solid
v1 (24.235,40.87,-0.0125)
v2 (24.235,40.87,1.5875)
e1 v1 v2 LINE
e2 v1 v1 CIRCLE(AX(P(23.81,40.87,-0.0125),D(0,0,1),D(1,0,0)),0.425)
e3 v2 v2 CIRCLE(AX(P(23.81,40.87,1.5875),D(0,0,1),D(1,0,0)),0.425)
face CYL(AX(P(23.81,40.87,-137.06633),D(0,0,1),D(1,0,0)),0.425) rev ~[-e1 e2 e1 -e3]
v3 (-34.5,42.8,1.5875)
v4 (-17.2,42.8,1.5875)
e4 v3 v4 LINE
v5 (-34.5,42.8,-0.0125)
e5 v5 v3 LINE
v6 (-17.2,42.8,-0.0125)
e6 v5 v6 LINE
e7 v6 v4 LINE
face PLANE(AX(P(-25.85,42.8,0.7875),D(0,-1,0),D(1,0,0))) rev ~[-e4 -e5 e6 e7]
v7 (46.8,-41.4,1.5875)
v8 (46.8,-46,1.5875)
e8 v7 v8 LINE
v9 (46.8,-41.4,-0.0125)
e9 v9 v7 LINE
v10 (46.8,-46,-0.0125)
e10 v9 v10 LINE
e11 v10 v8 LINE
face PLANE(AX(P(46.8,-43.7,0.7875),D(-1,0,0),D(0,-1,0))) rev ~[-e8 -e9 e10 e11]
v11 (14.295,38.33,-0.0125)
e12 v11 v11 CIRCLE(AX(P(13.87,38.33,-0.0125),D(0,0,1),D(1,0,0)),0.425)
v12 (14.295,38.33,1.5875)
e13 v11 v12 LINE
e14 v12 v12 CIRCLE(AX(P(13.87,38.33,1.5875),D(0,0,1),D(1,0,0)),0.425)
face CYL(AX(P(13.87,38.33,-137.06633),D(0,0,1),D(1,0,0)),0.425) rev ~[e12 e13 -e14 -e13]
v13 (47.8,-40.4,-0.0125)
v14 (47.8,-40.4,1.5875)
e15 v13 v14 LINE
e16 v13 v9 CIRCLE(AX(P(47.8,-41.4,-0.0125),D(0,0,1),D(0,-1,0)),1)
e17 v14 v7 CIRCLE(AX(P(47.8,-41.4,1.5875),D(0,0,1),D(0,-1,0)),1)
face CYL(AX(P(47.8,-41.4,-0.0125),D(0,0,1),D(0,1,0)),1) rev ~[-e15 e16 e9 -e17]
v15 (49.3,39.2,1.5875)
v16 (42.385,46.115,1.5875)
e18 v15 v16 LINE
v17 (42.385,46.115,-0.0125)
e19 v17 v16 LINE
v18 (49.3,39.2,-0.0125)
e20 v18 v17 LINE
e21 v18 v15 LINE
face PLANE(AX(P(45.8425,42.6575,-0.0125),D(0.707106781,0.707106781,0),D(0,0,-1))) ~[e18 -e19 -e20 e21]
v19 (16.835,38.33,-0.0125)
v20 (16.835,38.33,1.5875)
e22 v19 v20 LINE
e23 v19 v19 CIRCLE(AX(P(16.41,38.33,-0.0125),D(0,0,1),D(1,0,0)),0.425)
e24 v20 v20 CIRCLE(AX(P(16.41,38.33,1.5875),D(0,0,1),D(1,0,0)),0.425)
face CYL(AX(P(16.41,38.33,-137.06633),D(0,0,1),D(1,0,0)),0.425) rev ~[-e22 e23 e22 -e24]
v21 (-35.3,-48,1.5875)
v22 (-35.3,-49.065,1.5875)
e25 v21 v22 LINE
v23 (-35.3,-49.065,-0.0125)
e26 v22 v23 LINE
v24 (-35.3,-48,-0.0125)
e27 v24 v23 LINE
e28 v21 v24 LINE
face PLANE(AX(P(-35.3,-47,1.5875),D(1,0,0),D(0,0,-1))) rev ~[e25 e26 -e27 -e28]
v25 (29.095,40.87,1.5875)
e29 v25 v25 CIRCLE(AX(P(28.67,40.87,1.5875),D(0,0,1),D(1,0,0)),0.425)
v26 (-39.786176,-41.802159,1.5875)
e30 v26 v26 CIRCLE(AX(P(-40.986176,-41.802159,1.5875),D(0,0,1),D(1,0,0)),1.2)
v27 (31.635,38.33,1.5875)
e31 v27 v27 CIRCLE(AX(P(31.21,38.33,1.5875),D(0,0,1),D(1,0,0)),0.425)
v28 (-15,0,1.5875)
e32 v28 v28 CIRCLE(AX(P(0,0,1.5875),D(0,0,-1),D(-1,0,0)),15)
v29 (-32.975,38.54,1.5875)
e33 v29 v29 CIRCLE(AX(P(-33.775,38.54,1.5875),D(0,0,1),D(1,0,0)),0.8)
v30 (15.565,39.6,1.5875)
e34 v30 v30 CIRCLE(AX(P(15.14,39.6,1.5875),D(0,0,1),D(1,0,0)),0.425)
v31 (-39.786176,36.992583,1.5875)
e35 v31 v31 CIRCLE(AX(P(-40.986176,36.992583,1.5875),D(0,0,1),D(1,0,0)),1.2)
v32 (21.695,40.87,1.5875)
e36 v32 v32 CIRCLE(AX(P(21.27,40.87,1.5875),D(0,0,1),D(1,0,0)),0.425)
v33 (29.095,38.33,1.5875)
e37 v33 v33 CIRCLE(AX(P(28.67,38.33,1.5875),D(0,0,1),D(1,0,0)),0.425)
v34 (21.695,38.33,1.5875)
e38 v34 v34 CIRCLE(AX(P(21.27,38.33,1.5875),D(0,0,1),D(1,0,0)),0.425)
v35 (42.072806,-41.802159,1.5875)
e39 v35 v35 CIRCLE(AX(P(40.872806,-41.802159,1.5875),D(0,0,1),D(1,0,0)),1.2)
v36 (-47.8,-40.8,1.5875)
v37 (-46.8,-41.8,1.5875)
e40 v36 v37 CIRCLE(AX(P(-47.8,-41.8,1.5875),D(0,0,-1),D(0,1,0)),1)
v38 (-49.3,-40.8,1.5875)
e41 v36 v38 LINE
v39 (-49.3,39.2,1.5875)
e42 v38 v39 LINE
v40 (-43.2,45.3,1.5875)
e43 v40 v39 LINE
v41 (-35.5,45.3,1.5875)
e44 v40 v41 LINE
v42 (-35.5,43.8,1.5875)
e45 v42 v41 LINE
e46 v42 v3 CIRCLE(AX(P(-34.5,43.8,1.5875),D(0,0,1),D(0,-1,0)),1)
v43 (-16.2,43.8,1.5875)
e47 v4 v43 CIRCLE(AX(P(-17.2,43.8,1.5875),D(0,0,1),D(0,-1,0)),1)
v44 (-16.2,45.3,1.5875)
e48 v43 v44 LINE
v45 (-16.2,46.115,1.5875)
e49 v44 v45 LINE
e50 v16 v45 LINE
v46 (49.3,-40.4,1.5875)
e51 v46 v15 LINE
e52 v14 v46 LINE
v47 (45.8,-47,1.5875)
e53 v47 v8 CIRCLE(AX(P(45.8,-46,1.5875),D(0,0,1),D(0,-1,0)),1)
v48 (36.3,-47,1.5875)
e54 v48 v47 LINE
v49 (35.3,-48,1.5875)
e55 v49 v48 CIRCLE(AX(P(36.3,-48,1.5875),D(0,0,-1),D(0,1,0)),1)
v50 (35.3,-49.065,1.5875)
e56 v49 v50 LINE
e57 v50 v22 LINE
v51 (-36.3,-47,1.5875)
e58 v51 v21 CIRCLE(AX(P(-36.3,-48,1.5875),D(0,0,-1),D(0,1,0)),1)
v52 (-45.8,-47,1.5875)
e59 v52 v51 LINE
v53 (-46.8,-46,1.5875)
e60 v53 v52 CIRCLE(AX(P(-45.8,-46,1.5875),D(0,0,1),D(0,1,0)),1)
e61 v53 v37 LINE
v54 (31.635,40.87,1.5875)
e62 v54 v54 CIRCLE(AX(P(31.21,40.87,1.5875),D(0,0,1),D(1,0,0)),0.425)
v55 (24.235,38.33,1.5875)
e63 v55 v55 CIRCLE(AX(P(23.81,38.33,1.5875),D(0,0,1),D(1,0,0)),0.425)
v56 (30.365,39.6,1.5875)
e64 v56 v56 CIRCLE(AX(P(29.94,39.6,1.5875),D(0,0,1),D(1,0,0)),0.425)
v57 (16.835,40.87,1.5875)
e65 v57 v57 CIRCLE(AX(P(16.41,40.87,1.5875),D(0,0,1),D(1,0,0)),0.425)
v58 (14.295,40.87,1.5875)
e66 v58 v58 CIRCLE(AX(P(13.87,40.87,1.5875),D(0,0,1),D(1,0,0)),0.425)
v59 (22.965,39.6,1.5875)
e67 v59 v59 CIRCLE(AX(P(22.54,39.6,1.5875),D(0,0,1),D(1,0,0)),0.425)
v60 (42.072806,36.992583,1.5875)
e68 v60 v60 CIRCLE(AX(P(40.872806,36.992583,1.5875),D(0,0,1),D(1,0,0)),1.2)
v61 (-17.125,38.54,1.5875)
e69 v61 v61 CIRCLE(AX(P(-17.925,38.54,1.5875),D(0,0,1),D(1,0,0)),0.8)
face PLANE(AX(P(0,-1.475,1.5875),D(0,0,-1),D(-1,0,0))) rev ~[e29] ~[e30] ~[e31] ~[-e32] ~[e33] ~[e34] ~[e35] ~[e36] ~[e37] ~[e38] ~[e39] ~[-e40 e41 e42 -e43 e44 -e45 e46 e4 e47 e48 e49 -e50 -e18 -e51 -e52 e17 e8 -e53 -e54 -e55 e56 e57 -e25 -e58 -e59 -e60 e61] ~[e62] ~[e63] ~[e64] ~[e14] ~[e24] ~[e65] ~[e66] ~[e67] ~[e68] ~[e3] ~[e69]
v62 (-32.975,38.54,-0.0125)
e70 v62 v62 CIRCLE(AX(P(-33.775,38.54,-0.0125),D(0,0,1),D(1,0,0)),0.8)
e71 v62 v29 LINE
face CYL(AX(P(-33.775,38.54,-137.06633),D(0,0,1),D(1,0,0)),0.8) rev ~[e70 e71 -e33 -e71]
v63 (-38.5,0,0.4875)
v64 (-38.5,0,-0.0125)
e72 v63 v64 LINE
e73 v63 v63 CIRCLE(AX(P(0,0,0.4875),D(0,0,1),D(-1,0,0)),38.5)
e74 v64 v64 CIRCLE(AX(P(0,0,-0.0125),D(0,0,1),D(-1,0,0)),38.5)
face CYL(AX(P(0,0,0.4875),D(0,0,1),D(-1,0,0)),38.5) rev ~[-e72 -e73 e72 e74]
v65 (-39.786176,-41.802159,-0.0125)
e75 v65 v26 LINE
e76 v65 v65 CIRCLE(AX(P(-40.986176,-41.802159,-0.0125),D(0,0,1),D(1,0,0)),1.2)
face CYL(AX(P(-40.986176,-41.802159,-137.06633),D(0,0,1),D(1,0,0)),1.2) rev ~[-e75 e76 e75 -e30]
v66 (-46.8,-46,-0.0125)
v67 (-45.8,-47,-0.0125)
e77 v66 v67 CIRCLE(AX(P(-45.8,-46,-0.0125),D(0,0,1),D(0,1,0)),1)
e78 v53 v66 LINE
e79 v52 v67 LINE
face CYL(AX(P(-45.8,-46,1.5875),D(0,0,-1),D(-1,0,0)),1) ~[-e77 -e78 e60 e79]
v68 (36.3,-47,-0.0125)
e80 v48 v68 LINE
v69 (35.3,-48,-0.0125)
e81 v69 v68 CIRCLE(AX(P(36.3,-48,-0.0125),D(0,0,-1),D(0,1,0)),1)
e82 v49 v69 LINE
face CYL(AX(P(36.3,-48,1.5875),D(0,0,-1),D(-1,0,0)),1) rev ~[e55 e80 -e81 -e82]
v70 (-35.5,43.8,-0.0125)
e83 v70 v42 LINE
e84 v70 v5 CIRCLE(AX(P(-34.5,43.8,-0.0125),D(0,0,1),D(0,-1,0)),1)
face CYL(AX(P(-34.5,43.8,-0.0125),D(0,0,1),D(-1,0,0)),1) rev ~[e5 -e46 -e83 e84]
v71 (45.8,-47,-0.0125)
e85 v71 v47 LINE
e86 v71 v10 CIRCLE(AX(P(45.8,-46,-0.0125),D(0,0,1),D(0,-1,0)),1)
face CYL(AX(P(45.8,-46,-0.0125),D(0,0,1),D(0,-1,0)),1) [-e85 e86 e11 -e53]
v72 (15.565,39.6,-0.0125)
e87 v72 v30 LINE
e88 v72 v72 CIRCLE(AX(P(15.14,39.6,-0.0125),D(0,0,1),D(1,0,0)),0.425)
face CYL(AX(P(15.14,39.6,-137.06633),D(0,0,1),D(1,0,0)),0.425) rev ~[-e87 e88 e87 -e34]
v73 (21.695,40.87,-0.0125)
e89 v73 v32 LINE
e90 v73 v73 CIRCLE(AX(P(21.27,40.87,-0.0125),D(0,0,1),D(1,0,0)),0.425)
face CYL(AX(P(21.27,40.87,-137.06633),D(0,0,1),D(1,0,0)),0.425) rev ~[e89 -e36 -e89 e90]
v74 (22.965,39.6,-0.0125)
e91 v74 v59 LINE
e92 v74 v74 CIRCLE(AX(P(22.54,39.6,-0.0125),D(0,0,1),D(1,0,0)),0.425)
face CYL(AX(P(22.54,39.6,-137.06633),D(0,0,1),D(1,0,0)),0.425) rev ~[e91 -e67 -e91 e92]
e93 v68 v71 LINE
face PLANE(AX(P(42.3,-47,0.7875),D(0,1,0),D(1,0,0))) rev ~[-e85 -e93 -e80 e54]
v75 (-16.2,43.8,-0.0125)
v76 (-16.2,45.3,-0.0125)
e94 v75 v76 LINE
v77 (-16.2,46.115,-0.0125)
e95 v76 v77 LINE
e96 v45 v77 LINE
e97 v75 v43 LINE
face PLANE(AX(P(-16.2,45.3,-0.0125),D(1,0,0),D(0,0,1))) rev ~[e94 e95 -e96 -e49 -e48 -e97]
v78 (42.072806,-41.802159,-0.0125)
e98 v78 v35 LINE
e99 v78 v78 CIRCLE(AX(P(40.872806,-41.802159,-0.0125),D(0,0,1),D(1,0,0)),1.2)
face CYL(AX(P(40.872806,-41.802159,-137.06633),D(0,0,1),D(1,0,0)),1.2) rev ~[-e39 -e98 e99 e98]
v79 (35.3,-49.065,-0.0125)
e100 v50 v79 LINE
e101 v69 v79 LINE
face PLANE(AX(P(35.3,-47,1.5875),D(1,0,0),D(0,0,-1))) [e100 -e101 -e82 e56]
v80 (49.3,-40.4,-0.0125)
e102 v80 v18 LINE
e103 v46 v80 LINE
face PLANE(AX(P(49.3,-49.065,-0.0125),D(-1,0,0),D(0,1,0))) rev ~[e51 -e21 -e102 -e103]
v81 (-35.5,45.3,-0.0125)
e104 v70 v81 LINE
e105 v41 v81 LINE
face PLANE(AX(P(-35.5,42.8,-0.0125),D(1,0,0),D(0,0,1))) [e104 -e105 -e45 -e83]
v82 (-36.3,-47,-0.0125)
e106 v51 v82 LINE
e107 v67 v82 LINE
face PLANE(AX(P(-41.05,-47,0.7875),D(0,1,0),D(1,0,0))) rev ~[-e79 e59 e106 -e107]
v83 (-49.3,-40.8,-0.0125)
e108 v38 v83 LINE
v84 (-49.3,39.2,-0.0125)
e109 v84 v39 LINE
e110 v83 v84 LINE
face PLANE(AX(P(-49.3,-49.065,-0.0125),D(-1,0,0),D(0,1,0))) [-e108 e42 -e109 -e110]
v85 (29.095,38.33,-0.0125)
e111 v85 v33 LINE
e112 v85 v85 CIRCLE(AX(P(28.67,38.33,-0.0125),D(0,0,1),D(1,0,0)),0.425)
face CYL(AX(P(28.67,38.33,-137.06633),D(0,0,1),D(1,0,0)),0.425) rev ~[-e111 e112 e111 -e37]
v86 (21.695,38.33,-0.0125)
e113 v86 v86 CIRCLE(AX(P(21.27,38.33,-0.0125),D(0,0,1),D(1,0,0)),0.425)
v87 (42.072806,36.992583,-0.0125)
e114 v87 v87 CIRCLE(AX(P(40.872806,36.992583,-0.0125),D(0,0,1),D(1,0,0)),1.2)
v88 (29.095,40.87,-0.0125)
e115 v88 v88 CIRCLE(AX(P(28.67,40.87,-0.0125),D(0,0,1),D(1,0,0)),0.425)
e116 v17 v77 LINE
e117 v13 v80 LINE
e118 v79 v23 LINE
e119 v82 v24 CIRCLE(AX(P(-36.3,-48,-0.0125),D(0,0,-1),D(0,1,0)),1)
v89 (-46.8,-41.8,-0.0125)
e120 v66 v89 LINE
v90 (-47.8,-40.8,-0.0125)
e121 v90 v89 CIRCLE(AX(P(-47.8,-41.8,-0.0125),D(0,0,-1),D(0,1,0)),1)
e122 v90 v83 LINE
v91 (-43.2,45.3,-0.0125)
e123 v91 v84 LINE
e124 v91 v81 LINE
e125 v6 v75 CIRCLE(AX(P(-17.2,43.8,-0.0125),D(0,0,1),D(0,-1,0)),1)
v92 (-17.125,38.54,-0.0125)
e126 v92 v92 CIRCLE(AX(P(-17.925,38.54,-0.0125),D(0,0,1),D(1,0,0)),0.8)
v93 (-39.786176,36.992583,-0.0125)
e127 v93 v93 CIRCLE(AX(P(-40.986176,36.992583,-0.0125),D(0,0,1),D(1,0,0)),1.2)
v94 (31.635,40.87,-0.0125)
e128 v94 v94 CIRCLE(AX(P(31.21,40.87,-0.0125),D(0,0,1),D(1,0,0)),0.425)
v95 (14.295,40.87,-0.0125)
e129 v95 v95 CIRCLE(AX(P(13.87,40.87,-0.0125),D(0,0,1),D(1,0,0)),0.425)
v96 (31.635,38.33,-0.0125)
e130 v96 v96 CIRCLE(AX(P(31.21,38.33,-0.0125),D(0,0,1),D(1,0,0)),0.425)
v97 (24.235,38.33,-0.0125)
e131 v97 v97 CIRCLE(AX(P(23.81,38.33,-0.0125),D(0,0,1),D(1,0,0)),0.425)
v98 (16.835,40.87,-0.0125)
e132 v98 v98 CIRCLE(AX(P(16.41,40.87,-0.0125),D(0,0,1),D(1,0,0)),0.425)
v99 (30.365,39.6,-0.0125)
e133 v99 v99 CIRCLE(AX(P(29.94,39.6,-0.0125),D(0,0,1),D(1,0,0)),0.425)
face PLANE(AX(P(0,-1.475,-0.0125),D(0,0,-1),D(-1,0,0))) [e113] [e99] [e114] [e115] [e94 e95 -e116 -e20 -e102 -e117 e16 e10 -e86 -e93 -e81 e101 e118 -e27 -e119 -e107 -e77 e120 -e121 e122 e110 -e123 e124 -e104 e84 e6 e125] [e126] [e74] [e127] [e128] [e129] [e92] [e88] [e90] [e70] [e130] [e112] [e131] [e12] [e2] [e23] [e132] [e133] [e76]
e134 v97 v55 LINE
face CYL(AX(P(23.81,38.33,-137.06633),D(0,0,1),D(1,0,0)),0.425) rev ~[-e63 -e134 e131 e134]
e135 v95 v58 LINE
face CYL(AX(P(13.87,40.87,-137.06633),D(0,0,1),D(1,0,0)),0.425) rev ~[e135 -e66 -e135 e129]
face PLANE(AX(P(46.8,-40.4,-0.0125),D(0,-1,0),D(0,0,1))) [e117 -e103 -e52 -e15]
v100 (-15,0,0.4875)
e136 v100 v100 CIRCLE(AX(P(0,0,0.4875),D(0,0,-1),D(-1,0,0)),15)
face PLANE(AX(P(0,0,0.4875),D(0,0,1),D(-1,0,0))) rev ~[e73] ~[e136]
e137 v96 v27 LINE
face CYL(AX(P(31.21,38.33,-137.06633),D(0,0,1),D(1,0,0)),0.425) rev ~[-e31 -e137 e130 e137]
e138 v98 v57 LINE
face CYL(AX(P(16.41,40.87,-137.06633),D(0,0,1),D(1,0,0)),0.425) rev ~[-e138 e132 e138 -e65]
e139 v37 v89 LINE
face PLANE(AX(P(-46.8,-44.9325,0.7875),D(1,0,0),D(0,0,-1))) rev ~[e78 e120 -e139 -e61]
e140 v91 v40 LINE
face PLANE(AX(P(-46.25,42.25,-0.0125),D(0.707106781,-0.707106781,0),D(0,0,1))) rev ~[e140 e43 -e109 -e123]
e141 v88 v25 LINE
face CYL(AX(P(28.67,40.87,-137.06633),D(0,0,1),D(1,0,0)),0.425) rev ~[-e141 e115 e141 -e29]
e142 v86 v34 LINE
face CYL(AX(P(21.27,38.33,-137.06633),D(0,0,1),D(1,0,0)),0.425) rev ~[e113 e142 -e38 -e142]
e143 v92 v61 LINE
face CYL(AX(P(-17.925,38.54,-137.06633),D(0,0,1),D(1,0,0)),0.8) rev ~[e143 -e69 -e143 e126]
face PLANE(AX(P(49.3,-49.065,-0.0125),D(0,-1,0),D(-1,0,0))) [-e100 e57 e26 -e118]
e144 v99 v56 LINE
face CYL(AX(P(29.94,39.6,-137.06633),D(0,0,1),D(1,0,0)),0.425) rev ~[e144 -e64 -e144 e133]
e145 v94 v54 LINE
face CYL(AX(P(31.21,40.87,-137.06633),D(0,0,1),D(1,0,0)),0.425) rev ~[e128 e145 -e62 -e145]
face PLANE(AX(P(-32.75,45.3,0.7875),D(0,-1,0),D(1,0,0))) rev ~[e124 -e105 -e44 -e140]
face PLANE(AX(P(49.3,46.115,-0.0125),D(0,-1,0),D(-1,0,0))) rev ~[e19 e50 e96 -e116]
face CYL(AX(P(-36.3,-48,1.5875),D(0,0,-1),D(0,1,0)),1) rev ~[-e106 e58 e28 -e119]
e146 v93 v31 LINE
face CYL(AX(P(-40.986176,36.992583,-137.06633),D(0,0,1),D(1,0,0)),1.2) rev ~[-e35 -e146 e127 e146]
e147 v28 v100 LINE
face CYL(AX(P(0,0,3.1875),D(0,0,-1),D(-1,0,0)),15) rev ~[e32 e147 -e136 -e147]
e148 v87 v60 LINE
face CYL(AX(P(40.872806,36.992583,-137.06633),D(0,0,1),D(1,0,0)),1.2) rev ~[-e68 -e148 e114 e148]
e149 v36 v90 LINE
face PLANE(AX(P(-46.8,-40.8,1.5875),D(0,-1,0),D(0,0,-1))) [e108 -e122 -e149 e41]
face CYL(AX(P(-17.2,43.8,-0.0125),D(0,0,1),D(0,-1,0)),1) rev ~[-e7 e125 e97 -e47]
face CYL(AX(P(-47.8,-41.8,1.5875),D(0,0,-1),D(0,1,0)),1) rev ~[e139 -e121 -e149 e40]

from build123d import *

# Parameters (mm, degrees)
SKETCH1_W             = 98.6
SKETCH1_H             = 95.18
BOSS_EXTRUDE1_DEPTH   = 1.6
HOLE1_D               = 0.85
HOLE2_D               = 0.85
HOLE3_D               = 0.85
HOLE4_D               = 0.85
HOLE5_D               = 0.85
HOLE6_D               = 0.85
HOLE7_D               = 0.85
HOLE8_D               = 0.85
HOLE9_D               = 0.85
HOLE10_D              = 0.85
HOLE11_D              = 0.85
HOLE12_D              = 0.85
HOLE13_D              = 0.85
HOLE14_D              = 0.85
HOLE15_D              = 0.85
HOLE16_D              = 1.6
HOLE17_D              = 1.6
F_2_CLEARANCE_HOLE1_D = 2.4
F_2_CLEARANCE_HOLE2_D = 2.4
F_2_CLEARANCE_HOLE3_D = 2.4
F_2_CLEARANCE_HOLE4_D = 2.4
CUT_EXTRUDE1_REACH    = 71.563
SKETCH44_R            = 38.5
HOLE18_D              = 30
HOLE18_DEPTH          = 1.6
CUT_EXTRUDE2_REACH    = 107.373
SKETCH47_W            = 14
SKETCH47_H            = 1.6
CUT_EXTRUDE3_REACH    = 109.912
SKETCH48_W            = 6.6
SKETCH48_H            = 1.6
CUT_EXTRUDE4_REACH    = 109.912
SKETCH49_W            = 1.6
SKETCH49_H            = 8.265
CUT_EXTRUDE5_REACH    = 107.373
SKETCH50_W            = 11.5
SKETCH50_H            = 1.6
CUT_EXTRUDE6_REACH    = 108.479
SKETCH51_W            = 33.099999986
SKETCH51_H            = 1.6
CUT_EXTRUDE7_REACH    = 106.27
SKETCH52_W            = 19.300000003
SKETCH52_H            = 1.6
CHAMFER1_SIZE         = 6.915
CHAMFER2_SIZE         = 6.1
FILLET1_R             = 1


with BuildPart() as part:
    # Sketch1 → Boss-Extrude1 (new body)
    with BuildSketch(Plane(origin=(0, 0, -0.0125), x_dir=(-1, 0, 0), z_dir=(0, 0, -1))):
        with Locations((0, -1.475)):
            Rectangle(SKETCH1_W, SKETCH1_H)
    extrude(amount=-BOSS_EXTRUDE1_DEPTH)

    # Hole1 (through all)
    with Locations(Plane(origin=(0, 0, -0.0125), x_dir=(-1, 0, 0), z_dir=(0, 0, -1))):
        with Locations((-31.21, 40.87)):
            Hole(HOLE1_D / 2)

    # Hole2 (through all)
    with Locations(Plane(origin=(0, 0, -0.0125), x_dir=(-1, 0, 0), z_dir=(0, 0, -1))):
        with Locations((-28.67, 40.87)):
            Hole(HOLE2_D / 2)

    # Hole3 (through all)
    with Locations(Plane(origin=(0, 0, -0.0125), x_dir=(-1, 0, 0), z_dir=(0, 0, -1))):
        with Locations((-29.94, 39.6)):
            Hole(HOLE3_D / 2)

    # Hole4 (through all)
    with Locations(Plane(origin=(0, 0, -0.0125), x_dir=(-1, 0, 0), z_dir=(0, 0, -1))):
        with Locations((-31.21, 38.33)):
            Hole(HOLE4_D / 2)

    # Hole5 (through all)
    with Locations(Plane(origin=(0, 0, -0.0125), x_dir=(-1, 0, 0), z_dir=(0, 0, -1))):
        with Locations((-28.67, 38.33)):
            Hole(HOLE5_D / 2)

    # Hole6 (through all)
    with Locations(Plane(origin=(0, 0, -0.0125), x_dir=(-1, 0, 0), z_dir=(0, 0, -1))):
        with Locations((-23.81, 40.87)):
            Hole(HOLE6_D / 2)

    # Hole7 (through all)
    with Locations(Plane(origin=(0, 0, -0.0125), x_dir=(-1, 0, 0), z_dir=(0, 0, -1))):
        with Locations((-21.27, 40.87)):
            Hole(HOLE7_D / 2)

    # Hole8 (through all)
    with Locations(Plane(origin=(0, 0, -0.0125), x_dir=(-1, 0, 0), z_dir=(0, 0, -1))):
        with Locations((-22.54, 39.6)):
            Hole(HOLE8_D / 2)

    # Hole9 (through all)
    with Locations(Plane(origin=(0, 0, -0.0125), x_dir=(-1, 0, 0), z_dir=(0, 0, -1))):
        with Locations((-23.81, 38.33)):
            Hole(HOLE9_D / 2)

    # Hole10 (through all)
    with Locations(Plane(origin=(0, 0, -0.0125), x_dir=(-1, 0, 0), z_dir=(0, 0, -1))):
        with Locations((-21.27, 38.33)):
            Hole(HOLE10_D / 2)

    # Hole11 (through all)
    with Locations(Plane(origin=(0, 0, -0.0125), x_dir=(-1, 0, 0), z_dir=(0, 0, -1))):
        with Locations((-16.41, 40.87)):
            Hole(HOLE11_D / 2)

    # Hole12 (through all)
    with Locations(Plane(origin=(0, 0, -0.0125), x_dir=(-1, 0, 0), z_dir=(0, 0, -1))):
        with Locations((-13.87, 40.87)):
            Hole(HOLE12_D / 2)

    # Hole13 (through all)
    with Locations(Plane(origin=(0, 0, -0.0125), x_dir=(-1, 0, 0), z_dir=(0, 0, -1))):
        with Locations((-15.14, 39.6)):
            Hole(HOLE13_D / 2)

    # Hole14 (through all)
    with Locations(Plane(origin=(0, 0, -0.0125), x_dir=(-1, 0, 0), z_dir=(0, 0, -1))):
        with Locations((-16.41, 38.33)):
            Hole(HOLE14_D / 2)

    # Hole15 (through all)
    with Locations(Plane(origin=(0, 0, -0.0125), x_dir=(-1, 0, 0), z_dir=(0, 0, -1))):
        with Locations((-13.87, 38.33)):
            Hole(HOLE15_D / 2)

    # Hole16 (through all)
    with Locations(Plane(origin=(0, 0, -0.0125), x_dir=(-1, 0, 0), z_dir=(0, 0, -1))):
        with Locations((17.925000017, 38.540000432)):
            Hole(HOLE16_D / 2)

    # Hole17 (through all)
    with Locations(Plane(origin=(0, 0, -0.0125), x_dir=(-1, 0, 0), z_dir=(0, 0, -1))):
        with Locations((33.775000017, 38.540000432)):
            Hole(HOLE17_D / 2)

    # #2 Clearance Hole1 (through all)
    with Locations(Plane(origin=(0, 0, -0.0125), x_dir=(-1, 0, 0), z_dir=(0, 0, -1))):
        with Locations((40.986176345, 36.992583135)):
            Hole(F_2_CLEARANCE_HOLE1_D / 2)

    # #2 Clearance Hole2 (through all)
    with Locations(Plane(origin=(0, 0, -0.0125), x_dir=(-1, 0, 0), z_dir=(0, 0, -1))):
        with Locations((-40.872805953, 36.992583135)):
            Hole(F_2_CLEARANCE_HOLE2_D / 2)

    # #2 Clearance Hole3 (through all)
    with Locations(Plane(origin=(0, 0, -0.0125), x_dir=(-1, 0, 0), z_dir=(0, 0, -1))):
        with Locations((-40.872805953, -41.802159184)):
            Hole(F_2_CLEARANCE_HOLE3_D / 2)

    # #2 Clearance Hole4 (through all)
    with Locations(Plane(origin=(0, 0, -0.0125), x_dir=(-1, 0, 0), z_dir=(0, 0, -1))):
        with Locations((40.986176345, -41.802159184)):
            Hole(F_2_CLEARANCE_HOLE4_D / 2)

    # Sketch44 → Cut-Extrude1 (cut, up to next)
    with BuildSketch(Plane.XY.offset(0.4875), mode=Mode.PRIVATE) as cut_extrude1_sk1:
        with Locations(Location((0, 0, 0), (0, 0, 180))):
            Circle(SKETCH44_R)
    cut_extrude1_tool1 = extrude(cut_extrude1_sk1.sketch, amount=-CUT_EXTRUDE1_REACH, mode=Mode.PRIVATE) & part.part
    add(cut_extrude1_tool1.solids().sort_by_distance((0, 0, 0.4875))[0], mode=Mode.SUBTRACT)

    # Hole18
    with Locations(Plane.XY.offset(1.5875)):
        with Locations((0, 0)):
            Hole(HOLE18_D / 2, depth=HOLE18_DEPTH)

    # Sketch47 → Cut-Extrude2 (cut, up to next)
    with BuildSketch(Plane(origin=(0, -47, 0), x_dir=(1, 0, 0), z_dir=(0, 1, 0)), mode=Mode.PRIVATE) as cut_extrude2_sk1:
        with Locations((42.3, -0.7875)):
            Rectangle(SKETCH47_W, SKETCH47_H)
    cut_extrude2_tool1 = extrude(cut_extrude2_sk1.sketch, amount=-CUT_EXTRUDE2_REACH, mode=Mode.PRIVATE) & part.part
    add(cut_extrude2_tool1.solids().sort_by_distance((42.3, -47, 0.7875))[0], mode=Mode.SUBTRACT)

    # Sketch48 → Cut-Extrude3 (cut, up to next)
    with BuildSketch(Plane(origin=(46.8, 0, 0), x_dir=(0, -1, 0), z_dir=(-1, 0, 0)), mode=Mode.PRIVATE) as cut_extrude3_sk1:
        with Locations((43.7, 0.7875)):
            Rectangle(SKETCH48_W, SKETCH48_H)
    cut_extrude3_tool1 = extrude(cut_extrude3_sk1.sketch, amount=-CUT_EXTRUDE3_REACH, mode=Mode.PRIVATE) & part.part
    add(cut_extrude3_tool1.solids().sort_by_distance((46.8, -43.7, 0.7875))[0], mode=Mode.SUBTRACT)

    # Sketch49 → Cut-Extrude4 (cut, up to next)
    with BuildSketch(Plane(origin=(-46.8, 0, 0), x_dir=(0, 0, -1), z_dir=(1, 0, 0)), mode=Mode.PRIVATE) as cut_extrude4_sk1:
        with Locations((-0.7875, -44.9325)):
            Rectangle(SKETCH49_W, SKETCH49_H)
    cut_extrude4_tool1 = extrude(cut_extrude4_sk1.sketch, amount=-CUT_EXTRUDE4_REACH, mode=Mode.PRIVATE) & part.part
    add(cut_extrude4_tool1.solids().sort_by_distance((-46.8, -44.9325, 0.7875))[0], mode=Mode.SUBTRACT)

    # Sketch50 → Cut-Extrude5 (cut, up to next)
    with BuildSketch(Plane(origin=(0, -47, 0), x_dir=(1, 0, 0), z_dir=(0, 1, 0)), mode=Mode.PRIVATE) as cut_extrude5_sk1:
        with Locations((-41.05, -0.7875)):
            Rectangle(SKETCH50_W, SKETCH50_H)
    cut_extrude5_tool1 = extrude(cut_extrude5_sk1.sketch, amount=-CUT_EXTRUDE5_REACH, mode=Mode.PRIVATE) & part.part
    add(cut_extrude5_tool1.solids().sort_by_distance((-41.05, -47, 0.7875))[0], mode=Mode.SUBTRACT)

    # Sketch51 → Cut-Extrude6 (cut, up to next)
    with BuildSketch(Plane.XZ.offset(-45.3), mode=Mode.PRIVATE) as cut_extrude6_sk1:
        with Locations((-32.750000007, 0.7875)):
            Rectangle(SKETCH51_W, SKETCH51_H)
    cut_extrude6_tool1 = extrude(cut_extrude6_sk1.sketch, amount=-CUT_EXTRUDE6_REACH, mode=Mode.PRIVATE) & part.part
    add(cut_extrude6_tool1.solids().sort_by_distance((-32.75, 45.3, 0.7875))[0], mode=Mode.SUBTRACT)

    # Sketch52 → Cut-Extrude7 (cut, up to next)
    with BuildSketch(Plane.XZ.offset(-42.8), mode=Mode.PRIVATE) as cut_extrude7_sk1:
        with Locations((-25.850000016, 0.7875)):
            Rectangle(SKETCH52_W, SKETCH52_H)
    cut_extrude7_tool1 = extrude(cut_extrude7_sk1.sketch, amount=-CUT_EXTRUDE7_REACH, mode=Mode.PRIVATE) & part.part
    add(cut_extrude7_tool1.solids().sort_by_distance((-25.85, 42.8, 0.7875))[0], mode=Mode.SUBTRACT)

    # Chamfer1
    chamfer1_edges = [part.edges().sort_by_distance(p)[0] for p in [
        (49.3, 46.115, 0.7875),
    ]]
    chamfer(chamfer1_edges, length=CHAMFER1_SIZE)

    # Chamfer2
    chamfer2_edges = [part.edges().sort_by_distance(p)[0] for p in [
        (-49.3, 45.3, 0.7875),
    ]]
    chamfer(chamfer2_edges, length=CHAMFER2_SIZE)

    # Fillet1
    fillet1_edges = [part.edges().sort_by_distance(p)[0] for p in [
        (35.3, -47, 0.7875),
        (46.8, -47, 0.7875),
        (46.8, -40.4, 0.7875),
        (-46.8, -40.8, 0.7875),
        (-35.3, -47, 0.7875),
        (-46.8, -47, 0.7875),
        (-35.500000017, 42.8, 0.7875),
        (-16.200000014, 42.8, 0.7875),
    ]]
    fillet(fillet1_edges, radius=FILLET1_R)


solid = part.part
